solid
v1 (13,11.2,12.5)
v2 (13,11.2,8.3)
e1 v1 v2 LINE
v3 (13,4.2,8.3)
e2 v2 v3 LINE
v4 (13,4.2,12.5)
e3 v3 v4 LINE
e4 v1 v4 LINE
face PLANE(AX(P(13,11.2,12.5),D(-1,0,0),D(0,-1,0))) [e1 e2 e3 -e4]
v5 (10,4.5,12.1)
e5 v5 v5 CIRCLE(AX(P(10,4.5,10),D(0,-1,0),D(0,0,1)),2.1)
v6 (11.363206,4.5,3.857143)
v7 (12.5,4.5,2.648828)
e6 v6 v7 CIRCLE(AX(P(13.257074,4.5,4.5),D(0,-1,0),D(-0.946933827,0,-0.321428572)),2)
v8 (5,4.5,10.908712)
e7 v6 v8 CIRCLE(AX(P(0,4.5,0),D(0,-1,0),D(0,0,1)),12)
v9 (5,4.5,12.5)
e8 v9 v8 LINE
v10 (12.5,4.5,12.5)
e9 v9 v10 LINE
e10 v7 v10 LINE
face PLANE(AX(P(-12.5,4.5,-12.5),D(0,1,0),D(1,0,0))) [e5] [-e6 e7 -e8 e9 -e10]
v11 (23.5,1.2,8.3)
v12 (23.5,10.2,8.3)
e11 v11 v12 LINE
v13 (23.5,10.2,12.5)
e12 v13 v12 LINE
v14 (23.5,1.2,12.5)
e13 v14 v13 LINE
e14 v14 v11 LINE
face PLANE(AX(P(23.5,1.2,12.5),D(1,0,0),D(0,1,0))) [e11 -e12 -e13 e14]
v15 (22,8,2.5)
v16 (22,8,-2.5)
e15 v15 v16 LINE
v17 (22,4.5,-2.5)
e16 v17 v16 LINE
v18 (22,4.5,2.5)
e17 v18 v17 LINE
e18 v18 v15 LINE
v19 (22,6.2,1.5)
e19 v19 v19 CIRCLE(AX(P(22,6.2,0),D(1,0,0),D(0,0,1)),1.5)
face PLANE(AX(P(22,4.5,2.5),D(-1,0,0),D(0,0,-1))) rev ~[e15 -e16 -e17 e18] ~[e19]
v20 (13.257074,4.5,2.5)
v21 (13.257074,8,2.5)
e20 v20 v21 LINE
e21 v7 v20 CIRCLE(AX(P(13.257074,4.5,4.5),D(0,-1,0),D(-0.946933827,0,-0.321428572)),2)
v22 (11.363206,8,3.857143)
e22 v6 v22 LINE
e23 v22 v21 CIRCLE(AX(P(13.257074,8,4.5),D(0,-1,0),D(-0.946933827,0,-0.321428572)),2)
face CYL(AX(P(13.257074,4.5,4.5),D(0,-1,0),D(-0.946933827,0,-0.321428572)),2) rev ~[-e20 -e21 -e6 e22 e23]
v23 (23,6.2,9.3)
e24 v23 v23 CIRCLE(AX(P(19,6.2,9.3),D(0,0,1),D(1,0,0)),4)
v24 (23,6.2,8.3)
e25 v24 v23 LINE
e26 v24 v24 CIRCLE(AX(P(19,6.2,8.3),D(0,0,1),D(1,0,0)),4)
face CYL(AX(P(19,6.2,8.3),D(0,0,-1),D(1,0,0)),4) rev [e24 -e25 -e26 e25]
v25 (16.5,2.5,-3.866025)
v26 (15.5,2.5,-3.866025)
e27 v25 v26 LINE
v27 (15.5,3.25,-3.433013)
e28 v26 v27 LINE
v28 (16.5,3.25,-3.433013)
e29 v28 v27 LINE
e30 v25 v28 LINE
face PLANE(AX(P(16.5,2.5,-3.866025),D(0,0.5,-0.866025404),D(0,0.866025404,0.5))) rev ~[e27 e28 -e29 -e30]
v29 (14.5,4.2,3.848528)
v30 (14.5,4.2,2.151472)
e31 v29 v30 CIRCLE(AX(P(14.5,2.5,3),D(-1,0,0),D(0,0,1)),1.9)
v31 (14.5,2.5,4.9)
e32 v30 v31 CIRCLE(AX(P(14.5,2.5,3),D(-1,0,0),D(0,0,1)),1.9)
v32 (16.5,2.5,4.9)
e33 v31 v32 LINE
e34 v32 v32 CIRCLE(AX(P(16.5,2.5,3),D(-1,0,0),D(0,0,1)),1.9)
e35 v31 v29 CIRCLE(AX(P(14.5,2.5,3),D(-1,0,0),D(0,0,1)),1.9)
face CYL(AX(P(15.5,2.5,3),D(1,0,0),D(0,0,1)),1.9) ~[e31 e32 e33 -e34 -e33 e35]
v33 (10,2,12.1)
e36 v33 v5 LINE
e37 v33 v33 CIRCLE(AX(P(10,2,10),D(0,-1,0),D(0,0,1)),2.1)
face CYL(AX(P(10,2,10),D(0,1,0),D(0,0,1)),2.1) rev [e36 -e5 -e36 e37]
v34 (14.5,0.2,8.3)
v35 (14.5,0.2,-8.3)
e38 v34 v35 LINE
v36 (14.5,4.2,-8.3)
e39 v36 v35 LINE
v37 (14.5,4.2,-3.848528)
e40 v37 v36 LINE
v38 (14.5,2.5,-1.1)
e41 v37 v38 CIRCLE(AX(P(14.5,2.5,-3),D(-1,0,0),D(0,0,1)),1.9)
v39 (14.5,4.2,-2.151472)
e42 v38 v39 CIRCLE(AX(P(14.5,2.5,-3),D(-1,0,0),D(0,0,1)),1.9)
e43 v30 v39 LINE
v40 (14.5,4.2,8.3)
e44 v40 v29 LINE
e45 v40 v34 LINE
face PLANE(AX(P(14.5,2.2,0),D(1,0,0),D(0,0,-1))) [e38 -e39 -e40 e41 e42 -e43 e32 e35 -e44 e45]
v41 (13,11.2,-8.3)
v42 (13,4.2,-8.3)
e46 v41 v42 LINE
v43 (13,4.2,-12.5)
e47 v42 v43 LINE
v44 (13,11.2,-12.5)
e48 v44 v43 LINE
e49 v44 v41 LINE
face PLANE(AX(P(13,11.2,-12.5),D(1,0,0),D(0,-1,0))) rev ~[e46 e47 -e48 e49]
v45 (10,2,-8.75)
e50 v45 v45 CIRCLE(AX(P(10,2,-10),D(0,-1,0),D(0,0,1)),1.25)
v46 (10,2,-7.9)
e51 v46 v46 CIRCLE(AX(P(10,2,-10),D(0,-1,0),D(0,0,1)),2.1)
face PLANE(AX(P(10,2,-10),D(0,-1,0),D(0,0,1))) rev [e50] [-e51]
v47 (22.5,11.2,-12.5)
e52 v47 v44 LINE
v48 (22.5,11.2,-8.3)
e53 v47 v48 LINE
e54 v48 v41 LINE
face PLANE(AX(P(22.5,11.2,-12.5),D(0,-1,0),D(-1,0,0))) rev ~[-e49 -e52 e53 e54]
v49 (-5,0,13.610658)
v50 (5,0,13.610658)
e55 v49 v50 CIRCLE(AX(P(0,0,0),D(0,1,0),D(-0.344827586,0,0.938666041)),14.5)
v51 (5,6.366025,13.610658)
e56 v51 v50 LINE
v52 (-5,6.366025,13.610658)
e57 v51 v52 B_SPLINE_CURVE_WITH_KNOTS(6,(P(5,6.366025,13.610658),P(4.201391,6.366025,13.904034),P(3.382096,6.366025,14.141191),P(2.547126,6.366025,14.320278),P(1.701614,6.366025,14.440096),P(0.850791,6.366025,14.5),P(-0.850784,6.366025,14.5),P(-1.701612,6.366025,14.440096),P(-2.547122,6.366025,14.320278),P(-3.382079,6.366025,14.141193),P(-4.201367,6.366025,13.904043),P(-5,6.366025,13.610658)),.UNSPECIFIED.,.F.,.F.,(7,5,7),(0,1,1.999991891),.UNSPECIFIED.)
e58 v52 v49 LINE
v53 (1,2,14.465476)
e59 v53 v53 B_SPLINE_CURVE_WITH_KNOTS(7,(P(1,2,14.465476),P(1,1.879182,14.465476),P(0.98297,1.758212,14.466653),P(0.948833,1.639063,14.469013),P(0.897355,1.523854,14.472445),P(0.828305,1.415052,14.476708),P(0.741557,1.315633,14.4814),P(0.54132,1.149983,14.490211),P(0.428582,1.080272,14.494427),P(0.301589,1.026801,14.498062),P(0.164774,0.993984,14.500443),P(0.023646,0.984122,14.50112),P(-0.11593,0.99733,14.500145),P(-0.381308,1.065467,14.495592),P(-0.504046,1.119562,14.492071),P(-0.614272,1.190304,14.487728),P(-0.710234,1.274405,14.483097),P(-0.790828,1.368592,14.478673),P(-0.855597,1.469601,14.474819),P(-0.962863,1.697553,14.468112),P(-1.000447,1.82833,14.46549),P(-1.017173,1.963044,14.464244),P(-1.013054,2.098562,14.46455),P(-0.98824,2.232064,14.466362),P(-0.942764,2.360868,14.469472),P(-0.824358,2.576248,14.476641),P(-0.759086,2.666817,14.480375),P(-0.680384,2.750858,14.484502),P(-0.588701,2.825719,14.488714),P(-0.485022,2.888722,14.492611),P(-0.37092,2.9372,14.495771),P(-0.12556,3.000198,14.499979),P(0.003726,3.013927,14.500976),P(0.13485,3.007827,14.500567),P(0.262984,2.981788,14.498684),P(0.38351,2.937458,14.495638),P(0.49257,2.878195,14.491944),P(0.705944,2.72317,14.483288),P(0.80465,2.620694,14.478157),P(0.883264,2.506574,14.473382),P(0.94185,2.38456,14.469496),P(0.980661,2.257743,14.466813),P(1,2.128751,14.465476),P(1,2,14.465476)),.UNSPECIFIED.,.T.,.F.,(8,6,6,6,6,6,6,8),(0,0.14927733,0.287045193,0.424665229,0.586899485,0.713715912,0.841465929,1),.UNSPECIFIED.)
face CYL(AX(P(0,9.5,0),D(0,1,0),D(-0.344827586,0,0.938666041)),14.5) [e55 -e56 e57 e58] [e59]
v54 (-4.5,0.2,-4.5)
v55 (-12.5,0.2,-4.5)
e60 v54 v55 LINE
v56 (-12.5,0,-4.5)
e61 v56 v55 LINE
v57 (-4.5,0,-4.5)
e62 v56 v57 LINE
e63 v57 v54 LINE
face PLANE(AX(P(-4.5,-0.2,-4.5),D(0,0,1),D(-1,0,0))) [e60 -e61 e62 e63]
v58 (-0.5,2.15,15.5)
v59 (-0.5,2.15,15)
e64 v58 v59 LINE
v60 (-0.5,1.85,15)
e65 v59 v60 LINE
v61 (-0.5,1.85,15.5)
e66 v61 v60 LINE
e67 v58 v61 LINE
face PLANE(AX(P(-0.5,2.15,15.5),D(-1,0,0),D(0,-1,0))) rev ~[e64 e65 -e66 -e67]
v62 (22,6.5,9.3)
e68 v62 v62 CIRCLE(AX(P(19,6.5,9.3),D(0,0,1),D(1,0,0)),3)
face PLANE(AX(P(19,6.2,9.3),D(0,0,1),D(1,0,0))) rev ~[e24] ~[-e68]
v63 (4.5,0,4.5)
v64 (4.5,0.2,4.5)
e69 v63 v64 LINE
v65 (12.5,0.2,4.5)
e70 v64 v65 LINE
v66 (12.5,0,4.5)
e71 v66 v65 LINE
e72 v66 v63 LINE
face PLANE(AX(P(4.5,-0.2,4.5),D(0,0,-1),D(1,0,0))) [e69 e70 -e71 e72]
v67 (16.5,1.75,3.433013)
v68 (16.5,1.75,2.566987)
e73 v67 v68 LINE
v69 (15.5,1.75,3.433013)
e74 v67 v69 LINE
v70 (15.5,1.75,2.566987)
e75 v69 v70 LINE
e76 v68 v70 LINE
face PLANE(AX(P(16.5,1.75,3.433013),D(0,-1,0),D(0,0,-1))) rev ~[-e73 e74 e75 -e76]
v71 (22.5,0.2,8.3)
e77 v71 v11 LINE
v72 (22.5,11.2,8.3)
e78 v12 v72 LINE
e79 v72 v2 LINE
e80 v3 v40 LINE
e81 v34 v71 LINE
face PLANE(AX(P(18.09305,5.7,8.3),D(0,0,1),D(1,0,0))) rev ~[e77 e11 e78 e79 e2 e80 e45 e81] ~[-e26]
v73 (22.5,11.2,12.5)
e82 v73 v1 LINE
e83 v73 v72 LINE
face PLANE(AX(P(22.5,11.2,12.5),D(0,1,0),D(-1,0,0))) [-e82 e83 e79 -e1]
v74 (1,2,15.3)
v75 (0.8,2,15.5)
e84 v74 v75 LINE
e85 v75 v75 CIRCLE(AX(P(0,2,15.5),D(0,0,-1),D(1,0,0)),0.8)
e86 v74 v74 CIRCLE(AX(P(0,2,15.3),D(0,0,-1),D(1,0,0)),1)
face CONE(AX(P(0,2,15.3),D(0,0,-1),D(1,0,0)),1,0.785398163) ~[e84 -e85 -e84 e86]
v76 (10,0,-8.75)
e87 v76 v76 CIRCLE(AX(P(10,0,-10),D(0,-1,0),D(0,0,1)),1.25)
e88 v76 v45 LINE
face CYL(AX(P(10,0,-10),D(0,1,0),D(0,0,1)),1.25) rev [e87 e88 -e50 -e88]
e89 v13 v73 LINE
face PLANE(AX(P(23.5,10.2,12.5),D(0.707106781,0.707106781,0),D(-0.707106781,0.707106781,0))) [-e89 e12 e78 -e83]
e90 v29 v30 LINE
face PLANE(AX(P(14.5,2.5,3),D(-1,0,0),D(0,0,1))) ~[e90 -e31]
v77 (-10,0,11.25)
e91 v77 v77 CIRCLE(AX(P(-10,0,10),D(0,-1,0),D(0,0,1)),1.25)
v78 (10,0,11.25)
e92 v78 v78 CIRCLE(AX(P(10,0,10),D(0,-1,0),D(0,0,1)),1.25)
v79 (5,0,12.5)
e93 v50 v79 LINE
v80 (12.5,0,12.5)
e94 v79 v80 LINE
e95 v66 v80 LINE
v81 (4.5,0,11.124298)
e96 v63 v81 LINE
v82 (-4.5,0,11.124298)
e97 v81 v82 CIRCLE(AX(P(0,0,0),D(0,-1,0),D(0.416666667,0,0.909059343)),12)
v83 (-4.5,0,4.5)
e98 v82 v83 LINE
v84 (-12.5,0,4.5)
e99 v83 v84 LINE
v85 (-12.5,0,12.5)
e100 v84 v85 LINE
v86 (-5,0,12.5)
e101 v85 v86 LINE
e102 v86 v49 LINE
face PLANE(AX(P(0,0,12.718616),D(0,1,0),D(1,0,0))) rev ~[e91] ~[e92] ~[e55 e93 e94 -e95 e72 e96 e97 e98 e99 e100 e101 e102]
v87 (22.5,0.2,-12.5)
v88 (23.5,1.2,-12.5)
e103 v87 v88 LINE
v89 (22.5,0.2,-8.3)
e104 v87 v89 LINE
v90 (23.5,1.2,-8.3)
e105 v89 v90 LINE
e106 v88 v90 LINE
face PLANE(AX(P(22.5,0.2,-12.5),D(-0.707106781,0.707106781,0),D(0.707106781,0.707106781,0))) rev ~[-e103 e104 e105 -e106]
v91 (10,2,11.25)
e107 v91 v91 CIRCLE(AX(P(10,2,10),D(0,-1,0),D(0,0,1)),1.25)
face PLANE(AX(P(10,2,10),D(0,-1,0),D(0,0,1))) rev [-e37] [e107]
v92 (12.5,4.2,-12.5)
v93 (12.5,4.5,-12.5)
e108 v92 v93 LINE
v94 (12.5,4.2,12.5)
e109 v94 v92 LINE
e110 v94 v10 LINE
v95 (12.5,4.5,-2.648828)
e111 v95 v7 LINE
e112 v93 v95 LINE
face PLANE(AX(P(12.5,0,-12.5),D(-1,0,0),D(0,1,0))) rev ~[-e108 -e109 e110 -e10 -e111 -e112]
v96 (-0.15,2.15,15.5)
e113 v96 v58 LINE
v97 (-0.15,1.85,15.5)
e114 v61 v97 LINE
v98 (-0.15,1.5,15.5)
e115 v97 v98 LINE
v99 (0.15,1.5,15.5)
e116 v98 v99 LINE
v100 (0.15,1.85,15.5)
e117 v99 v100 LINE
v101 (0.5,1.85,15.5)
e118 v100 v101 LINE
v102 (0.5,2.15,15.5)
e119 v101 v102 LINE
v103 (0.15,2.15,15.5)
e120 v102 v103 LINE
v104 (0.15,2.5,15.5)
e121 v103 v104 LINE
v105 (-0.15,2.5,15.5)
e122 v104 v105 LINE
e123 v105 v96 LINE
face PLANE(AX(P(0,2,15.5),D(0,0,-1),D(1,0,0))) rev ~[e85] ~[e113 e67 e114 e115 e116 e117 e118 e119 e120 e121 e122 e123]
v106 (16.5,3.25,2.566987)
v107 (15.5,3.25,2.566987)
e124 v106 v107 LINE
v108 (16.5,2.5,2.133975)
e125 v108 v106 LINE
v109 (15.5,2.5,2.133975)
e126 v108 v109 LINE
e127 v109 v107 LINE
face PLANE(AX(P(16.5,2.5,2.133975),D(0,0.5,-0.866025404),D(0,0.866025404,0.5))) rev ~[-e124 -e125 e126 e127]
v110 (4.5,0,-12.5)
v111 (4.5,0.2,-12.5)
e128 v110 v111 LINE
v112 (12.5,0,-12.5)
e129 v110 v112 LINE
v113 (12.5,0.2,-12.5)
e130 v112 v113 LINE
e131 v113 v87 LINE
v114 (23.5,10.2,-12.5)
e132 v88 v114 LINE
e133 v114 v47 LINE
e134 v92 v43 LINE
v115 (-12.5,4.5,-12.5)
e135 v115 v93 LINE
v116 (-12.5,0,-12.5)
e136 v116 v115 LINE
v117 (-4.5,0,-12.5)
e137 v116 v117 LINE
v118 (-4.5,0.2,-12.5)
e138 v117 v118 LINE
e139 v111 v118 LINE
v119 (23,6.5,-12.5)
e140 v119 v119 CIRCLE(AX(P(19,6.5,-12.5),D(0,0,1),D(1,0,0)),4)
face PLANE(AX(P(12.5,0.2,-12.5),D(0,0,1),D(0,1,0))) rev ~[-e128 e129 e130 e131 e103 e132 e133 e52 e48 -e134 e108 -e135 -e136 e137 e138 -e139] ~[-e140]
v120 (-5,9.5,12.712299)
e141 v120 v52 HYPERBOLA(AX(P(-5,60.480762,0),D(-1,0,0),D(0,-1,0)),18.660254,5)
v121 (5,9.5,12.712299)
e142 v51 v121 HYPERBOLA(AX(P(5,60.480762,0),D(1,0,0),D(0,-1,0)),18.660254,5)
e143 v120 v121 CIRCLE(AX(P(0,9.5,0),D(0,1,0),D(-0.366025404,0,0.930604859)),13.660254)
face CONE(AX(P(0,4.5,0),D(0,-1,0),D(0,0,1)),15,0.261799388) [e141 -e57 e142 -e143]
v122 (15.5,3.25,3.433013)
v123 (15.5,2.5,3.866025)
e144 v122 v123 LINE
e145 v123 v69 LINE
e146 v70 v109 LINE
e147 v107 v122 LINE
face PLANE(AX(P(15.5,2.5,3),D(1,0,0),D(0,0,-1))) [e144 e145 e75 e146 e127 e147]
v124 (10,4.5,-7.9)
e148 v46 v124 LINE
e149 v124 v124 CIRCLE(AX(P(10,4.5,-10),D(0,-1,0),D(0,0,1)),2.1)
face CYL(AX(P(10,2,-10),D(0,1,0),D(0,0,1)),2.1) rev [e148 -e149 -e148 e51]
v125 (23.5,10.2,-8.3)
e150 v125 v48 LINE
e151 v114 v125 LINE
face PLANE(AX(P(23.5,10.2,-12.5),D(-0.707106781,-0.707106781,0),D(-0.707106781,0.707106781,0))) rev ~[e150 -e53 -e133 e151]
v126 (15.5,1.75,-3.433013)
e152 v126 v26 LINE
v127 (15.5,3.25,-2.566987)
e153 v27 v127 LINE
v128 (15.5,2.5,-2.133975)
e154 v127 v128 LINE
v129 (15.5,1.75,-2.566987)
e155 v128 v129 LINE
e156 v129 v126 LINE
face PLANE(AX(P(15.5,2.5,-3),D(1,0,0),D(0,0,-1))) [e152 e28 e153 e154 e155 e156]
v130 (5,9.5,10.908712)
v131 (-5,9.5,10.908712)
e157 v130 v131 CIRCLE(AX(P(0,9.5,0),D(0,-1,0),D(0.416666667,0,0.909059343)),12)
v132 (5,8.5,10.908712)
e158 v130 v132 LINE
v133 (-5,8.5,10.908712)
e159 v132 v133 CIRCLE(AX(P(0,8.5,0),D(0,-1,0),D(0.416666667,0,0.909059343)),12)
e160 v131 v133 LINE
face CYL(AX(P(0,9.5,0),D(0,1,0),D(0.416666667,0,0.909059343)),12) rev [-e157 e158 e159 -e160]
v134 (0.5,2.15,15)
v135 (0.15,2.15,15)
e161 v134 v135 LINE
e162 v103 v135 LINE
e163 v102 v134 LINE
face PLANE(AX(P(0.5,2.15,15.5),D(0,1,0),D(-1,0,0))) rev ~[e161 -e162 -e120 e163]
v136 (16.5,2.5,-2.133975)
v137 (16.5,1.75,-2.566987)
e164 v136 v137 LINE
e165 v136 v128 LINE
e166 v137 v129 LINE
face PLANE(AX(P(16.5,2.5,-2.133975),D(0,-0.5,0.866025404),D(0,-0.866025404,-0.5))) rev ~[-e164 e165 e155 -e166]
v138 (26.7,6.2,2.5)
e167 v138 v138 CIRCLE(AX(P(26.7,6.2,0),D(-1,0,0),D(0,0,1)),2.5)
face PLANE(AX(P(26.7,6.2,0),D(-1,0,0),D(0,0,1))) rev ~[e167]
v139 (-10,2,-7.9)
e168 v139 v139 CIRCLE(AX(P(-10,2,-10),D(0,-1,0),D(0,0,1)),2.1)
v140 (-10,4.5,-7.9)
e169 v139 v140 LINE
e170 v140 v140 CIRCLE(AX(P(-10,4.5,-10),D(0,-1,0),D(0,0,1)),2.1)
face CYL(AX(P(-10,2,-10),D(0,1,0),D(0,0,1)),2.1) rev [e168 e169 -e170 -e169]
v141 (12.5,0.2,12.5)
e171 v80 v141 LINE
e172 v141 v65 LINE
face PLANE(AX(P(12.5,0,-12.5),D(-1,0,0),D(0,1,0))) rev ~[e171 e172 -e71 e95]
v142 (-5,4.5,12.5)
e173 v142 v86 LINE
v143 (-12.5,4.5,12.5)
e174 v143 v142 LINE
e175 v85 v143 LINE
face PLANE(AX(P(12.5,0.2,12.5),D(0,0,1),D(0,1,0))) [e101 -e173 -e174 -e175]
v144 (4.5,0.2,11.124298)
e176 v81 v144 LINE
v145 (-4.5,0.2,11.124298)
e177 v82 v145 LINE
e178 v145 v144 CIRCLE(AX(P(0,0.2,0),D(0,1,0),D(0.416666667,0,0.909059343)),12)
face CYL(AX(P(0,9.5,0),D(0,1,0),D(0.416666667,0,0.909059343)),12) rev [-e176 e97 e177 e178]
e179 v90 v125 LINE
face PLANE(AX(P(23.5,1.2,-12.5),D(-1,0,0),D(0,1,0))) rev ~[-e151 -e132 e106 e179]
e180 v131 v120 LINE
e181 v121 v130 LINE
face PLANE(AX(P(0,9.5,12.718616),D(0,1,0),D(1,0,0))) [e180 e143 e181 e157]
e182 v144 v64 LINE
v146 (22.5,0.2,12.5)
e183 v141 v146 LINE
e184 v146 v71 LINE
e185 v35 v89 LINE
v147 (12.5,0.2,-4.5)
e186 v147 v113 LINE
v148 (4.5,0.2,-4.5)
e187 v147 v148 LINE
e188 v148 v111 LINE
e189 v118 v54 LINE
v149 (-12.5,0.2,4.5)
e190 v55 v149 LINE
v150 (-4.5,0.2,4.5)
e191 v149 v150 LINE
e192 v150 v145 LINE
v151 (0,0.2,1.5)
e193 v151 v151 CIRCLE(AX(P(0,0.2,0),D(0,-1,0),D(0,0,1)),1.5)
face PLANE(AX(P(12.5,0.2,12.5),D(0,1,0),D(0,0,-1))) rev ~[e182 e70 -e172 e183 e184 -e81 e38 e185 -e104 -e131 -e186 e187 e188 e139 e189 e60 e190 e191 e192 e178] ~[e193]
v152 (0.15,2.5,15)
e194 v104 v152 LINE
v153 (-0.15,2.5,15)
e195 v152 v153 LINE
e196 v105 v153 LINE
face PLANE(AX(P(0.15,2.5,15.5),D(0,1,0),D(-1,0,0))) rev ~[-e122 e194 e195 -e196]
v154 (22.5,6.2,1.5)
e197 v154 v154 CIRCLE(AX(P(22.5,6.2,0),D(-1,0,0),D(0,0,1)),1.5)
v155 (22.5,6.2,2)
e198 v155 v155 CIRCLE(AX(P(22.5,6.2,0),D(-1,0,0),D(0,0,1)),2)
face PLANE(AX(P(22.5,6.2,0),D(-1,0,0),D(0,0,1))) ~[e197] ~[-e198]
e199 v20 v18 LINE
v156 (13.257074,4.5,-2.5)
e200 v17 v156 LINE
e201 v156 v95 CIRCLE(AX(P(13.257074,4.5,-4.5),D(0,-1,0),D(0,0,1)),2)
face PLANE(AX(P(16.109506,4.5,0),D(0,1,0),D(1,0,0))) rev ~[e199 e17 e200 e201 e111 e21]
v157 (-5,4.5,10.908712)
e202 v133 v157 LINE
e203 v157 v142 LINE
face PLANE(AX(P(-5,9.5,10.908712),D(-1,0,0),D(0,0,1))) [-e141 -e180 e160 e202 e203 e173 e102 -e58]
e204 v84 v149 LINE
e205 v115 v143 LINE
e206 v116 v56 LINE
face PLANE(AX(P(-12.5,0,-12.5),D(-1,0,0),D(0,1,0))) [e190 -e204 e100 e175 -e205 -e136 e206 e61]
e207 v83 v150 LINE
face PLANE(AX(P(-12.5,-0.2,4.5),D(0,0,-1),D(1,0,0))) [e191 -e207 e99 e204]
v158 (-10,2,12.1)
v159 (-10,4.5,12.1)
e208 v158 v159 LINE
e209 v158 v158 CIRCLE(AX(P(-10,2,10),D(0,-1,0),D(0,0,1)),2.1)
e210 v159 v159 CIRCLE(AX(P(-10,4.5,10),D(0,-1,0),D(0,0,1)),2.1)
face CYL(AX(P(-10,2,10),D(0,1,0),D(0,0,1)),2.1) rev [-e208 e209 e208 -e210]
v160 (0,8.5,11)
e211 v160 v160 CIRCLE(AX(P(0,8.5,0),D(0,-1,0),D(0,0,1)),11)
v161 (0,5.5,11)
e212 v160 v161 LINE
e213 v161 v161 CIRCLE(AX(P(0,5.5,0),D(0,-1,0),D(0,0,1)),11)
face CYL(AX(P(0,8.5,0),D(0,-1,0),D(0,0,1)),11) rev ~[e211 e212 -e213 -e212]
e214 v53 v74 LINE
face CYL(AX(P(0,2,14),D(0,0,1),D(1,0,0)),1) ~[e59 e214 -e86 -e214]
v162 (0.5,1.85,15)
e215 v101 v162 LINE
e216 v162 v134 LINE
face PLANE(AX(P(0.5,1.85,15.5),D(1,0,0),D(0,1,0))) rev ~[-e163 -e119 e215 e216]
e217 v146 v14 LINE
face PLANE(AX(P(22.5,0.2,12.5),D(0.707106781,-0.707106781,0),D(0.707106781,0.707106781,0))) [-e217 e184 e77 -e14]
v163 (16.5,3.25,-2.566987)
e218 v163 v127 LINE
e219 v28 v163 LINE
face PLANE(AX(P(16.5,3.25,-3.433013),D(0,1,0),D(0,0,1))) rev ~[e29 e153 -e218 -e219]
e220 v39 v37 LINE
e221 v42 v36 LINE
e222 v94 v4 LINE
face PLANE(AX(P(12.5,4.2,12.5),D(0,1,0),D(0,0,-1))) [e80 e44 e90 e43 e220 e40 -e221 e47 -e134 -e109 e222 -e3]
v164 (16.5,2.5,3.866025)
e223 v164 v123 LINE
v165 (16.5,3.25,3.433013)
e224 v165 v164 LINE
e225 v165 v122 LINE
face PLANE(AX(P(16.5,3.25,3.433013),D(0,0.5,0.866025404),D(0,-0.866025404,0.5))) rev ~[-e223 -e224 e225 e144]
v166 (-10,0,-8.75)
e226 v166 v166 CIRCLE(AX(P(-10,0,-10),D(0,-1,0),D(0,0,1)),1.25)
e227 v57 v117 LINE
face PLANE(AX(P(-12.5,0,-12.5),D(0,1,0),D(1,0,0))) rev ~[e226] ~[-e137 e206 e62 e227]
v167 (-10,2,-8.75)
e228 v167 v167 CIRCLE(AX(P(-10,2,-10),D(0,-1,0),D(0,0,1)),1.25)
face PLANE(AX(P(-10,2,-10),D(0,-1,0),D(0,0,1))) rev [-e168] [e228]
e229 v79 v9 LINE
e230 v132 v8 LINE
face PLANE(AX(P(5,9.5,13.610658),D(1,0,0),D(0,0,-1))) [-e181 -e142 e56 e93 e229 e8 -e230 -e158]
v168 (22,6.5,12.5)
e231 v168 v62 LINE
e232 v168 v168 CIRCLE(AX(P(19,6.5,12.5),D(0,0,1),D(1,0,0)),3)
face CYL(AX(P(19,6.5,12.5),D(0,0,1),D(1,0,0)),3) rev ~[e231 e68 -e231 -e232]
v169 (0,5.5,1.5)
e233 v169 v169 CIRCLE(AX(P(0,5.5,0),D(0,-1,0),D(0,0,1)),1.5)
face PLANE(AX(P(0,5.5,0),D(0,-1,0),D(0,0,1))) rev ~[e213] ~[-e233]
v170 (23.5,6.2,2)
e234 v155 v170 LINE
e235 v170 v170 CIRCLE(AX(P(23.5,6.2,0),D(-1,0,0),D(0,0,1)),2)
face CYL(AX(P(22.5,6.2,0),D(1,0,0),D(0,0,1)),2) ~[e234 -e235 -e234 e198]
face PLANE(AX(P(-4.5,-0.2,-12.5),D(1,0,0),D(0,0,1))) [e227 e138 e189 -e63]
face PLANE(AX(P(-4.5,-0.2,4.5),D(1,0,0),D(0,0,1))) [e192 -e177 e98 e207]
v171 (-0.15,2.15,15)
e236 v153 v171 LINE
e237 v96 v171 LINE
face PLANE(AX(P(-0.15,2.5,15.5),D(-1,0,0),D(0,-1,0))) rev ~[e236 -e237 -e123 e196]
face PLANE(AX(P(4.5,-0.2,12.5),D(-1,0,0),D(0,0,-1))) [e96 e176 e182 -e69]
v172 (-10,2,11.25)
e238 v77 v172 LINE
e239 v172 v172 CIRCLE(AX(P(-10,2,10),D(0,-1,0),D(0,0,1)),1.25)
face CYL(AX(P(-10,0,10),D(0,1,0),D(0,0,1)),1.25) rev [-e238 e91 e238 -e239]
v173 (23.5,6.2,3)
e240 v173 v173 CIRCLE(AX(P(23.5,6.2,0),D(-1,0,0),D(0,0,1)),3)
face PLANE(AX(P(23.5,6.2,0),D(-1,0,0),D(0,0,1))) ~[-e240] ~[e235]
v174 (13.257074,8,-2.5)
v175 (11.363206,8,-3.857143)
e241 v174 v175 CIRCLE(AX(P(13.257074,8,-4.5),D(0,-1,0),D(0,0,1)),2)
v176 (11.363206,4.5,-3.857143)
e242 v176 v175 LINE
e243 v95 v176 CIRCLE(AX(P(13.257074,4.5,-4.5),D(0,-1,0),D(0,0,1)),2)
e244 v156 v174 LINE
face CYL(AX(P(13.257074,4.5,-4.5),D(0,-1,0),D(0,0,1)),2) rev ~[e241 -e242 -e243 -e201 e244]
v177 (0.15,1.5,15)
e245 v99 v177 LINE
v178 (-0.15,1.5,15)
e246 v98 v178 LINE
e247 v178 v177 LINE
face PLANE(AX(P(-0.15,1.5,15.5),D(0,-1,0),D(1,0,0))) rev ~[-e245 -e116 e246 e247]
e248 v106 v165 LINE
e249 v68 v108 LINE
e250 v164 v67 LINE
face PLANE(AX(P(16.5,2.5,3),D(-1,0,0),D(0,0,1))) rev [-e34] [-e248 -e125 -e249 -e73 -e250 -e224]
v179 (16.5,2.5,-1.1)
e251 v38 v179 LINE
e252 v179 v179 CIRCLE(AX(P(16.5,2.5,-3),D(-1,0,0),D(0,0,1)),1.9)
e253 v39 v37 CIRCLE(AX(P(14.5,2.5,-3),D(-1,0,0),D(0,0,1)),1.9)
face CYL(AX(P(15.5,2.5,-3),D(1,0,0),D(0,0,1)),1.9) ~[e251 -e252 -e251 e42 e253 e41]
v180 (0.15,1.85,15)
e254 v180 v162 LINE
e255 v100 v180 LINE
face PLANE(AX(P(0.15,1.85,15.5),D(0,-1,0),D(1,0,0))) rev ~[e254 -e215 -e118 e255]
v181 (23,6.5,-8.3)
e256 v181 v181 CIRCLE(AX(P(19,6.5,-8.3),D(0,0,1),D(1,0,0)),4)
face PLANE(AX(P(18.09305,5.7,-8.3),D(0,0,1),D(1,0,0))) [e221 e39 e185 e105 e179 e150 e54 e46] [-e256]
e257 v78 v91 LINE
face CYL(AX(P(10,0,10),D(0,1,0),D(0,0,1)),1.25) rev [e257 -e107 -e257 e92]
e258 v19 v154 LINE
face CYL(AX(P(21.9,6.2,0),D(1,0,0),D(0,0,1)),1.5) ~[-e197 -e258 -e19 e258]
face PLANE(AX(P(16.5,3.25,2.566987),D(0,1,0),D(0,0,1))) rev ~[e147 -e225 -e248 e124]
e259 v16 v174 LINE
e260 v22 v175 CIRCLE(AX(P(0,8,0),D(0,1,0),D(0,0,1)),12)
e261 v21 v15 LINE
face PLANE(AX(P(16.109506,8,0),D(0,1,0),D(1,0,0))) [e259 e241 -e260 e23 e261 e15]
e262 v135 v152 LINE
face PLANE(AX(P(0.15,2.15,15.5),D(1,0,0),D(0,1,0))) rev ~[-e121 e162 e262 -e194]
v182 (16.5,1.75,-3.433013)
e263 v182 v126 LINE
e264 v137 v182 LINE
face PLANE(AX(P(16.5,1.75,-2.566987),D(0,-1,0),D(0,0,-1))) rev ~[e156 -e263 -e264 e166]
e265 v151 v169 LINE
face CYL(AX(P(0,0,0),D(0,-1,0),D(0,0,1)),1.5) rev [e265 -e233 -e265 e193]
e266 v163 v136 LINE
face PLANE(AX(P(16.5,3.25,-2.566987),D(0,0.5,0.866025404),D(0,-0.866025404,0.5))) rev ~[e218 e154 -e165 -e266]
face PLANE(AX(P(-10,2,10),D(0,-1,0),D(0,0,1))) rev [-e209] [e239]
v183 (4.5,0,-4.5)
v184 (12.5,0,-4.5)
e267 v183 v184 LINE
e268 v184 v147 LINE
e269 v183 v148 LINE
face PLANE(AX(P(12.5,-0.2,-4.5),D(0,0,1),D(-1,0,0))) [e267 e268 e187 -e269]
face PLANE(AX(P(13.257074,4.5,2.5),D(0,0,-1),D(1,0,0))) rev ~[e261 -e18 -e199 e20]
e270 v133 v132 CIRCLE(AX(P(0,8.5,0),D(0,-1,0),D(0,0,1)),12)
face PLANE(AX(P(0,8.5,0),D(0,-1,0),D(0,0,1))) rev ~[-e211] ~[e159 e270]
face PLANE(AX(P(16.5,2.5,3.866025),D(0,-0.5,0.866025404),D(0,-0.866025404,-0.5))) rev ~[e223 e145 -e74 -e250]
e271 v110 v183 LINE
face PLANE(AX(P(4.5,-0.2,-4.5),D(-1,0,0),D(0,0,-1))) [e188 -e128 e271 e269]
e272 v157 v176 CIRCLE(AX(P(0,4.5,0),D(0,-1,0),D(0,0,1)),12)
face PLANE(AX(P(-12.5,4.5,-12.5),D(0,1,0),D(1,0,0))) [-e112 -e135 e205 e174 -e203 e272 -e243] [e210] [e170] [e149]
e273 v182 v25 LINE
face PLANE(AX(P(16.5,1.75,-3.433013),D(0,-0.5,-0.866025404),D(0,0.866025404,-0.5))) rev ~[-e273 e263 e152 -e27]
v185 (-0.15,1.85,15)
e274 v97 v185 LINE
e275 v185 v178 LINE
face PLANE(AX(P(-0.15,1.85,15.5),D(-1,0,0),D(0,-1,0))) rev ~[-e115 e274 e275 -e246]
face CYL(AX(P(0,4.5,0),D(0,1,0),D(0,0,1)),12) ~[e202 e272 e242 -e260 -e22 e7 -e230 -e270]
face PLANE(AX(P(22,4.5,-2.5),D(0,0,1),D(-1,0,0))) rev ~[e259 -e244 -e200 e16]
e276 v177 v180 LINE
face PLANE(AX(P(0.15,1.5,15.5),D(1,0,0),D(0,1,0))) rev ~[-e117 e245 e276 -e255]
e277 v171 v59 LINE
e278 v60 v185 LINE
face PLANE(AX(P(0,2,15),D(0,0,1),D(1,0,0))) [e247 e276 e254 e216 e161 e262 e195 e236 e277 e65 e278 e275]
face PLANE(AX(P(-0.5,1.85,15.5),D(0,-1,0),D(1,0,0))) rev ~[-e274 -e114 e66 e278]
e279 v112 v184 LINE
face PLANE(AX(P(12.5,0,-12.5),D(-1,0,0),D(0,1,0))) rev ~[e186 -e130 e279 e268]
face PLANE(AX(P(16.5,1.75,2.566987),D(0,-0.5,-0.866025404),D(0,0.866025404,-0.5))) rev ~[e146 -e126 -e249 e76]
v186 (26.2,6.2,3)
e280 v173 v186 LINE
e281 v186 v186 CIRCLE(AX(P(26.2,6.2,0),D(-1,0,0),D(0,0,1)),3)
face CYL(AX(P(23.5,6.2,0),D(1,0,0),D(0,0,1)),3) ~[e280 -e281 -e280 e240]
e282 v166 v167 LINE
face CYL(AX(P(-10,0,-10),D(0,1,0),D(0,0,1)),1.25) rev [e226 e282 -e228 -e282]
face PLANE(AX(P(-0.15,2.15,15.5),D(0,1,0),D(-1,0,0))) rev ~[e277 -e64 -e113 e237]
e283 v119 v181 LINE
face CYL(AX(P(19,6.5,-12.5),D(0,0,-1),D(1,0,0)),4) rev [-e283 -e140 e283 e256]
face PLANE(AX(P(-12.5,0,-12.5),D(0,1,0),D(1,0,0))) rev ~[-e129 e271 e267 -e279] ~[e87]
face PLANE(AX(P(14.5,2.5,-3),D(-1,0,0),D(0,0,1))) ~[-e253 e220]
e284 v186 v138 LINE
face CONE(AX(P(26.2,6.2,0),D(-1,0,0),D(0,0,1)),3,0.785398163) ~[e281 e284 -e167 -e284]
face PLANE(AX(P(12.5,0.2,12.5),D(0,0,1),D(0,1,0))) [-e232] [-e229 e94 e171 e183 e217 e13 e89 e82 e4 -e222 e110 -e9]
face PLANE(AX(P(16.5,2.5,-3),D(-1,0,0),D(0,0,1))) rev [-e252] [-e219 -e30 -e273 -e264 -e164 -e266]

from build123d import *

# Parameters (mm, degrees)
EXTRUDE_1_DEPTH               = 12.5
EXTRUDE_1_DEPTH_BACK          = 12.5
SKETCH_1_W                    = 25
SKETCH_1_H                    = 4.5
CUT_EXTRUDE_1_DEPTH           = 0.2
CUT_EXTRUDE_1_DEPTH_BACK      = 0.2
PATTERN_LINEAR_1_COUNT        = 2
PATTERN_LINEAR_1_PITCH        = 20
PATTERN_LINEAR_1_COUNT_DIR2   = 2
PATTERN_LINEAR_1_PITCH_DIR2   = 20
EXTRUDE_2_DEPTH               = 3.5
SKETCH_8_W                    = 25
SKETCH_8_H                    = 4
EXTRUDE_3_DEPTH               = 2
EXTRUDE_4_DEPTH               = 4.2
SKETCH_10_R                   = 3
CUT_EXTRUDE_2_DEPTH           = 4.2
EXTRUDE_5_DEPTH               = 4.2
SKETCH_12_R                   = 4
CUT_EXTRUDE_3_DEPTH           = 4.2
SKETCH_13_W                   = 2
SKETCH_13_H                   = 1.9
CUT_EXTRUDE_4_DEPTH           = 1
SKETCH_15_R                   = 4
CUT_EXTRUDE_5_DEPTH           = 1
SKETCH_16_W                   = 2
SKETCH_16_H                   = 1.9
CUT_EXTRUDE_6_DEPTH           = 1
EXTRUDE_START                 = 9.5
EXTRUDE_6_DEPTH               = 9.5
CUT_REVOLVE_2_ANGLE           = 50
CUT_REVOLVE_2_OTHER_WAY_ANGLE = 50
CUT_EXTRUDE_7_DEPTH           = 0.5
SKETCH_22_R                   = 1.5
CUT_EXTRUDE_8_DEPTH           = 8.5


with BuildPart() as part:
    # 草图1 → 凸台-拉伸1 (new, two sides: drawn at the far end of the back side and taken through both)
    with BuildSketch(Plane.XY.offset(-EXTRUDE_1_DEPTH_BACK)):
        with Locations((0, 2.25)):
            Rectangle(SKETCH_1_W, SKETCH_1_H)
    extrude(amount=EXTRUDE_1_DEPTH + EXTRUDE_1_DEPTH_BACK)

    # 草图2 → 旋转1 (revolve)
    with BuildSketch(Plane(origin=(0, 0, 0), x_dir=(0, 0, -1), z_dir=(1, 0, 0))):
        Polygon((0, 4.5), (-12, 4.5), (-12, 8.5), (-11, 8.5), (-11, 5.5), (0, 5.5), align=None)
    revolve(axis=Axis((0, 5.5, 0), (0, -1, 0)))

    # 草图3 → 切除-拉伸1 (cut, two sides: drawn at the far end of the back side and taken through both)
    with BuildSketch(Plane(origin=(0, 0, 0), x_dir=(1, 0, 0), z_dir=(0, 1, 0)).offset(-CUT_EXTRUDE_1_DEPTH_BACK)):
        Polygon((-12.5, 4.5), (-12.5, -4.5), (-4.5, -4.5), (-4.5, -12.5), (4.5, -12.5), (4.5, -4.5), (12.5, -4.5), (12.5, 4.5), (4.5, 4.5), (4.5, 12.5), (-4.5, 12.5), (-4.5, 4.5), align=None)
    extrude(amount=CUT_EXTRUDE_1_DEPTH + CUT_EXTRUDE_1_DEPTH_BACK, mode=Mode.SUBTRACT)

    # 草图4 → 切除-旋转1 (revolve, cut)
    with BuildSketch(Plane(origin=(-10, 0, 0), x_dir=(0, 0, -1), z_dir=(1, 0, 0))):
        Polygon((10, 0), (8.75, 0), (8.75, 2), (7.9, 2), (7.9, 4.5), (10, 4.5), align=None)
    cut_revolve_1 = revolve(axis=Axis((-10, 4.5, -10), (0, -1, 0)), mode=Mode.SUBTRACT)

    # 阵列(线性)1: Cut-Revolve 1 2 × 2
    with Locations(*[(i * PATTERN_LINEAR_1_PITCH, 0, j * PATTERN_LINEAR_1_PITCH_DIR2) for i in range(PATTERN_LINEAR_1_COUNT) for j in range(PATTERN_LINEAR_1_COUNT_DIR2) if (i, j) != (0, 0)]):
        add(cut_revolve_1, mode=Mode.SUBTRACT)

    # 草图6 → 凸台-拉伸2 (add)
    with BuildSketch(Plane(origin=(0, 4.5, 0), x_dir=(1, 0, 0), z_dir=(0, 1, 0))):
        with BuildLine():
            Line((11.363205929, 3.857142857), (11.363205929, -3.857142857))
            ThreePointArc((11.363205929, -3.857142857), (12.092108839, -2.874313332), (13.257073584, -2.5))
            Line((13.257073584, -2.5), (22, -2.5))
            Line((22, -2.5), (22, 2.5))
            Line((22, 2.5), (13.257073584, 2.5))
            ThreePointArc((13.257073584, 2.5), (12.092108839, 2.874313332), (11.363205929, 3.857142857))
        make_face()
    extrude(amount=EXTRUDE_2_DEPTH)

    # 草图7 → 旋转2 (revolve)
    with BuildSketch(Plane.XY):
        Polygon((21.9, 6.2), (21.9, 7.7), (22.5, 7.7), (22.5, 8.2), (23.5, 8.2), (23.5, 9.2), (26.2, 9.2), (26.7, 8.7), (26.7, 6.2), align=None)
    revolve(axis=Axis((26.7, 6.2, 0), (-1, 0, 0)))

    # 草图8 → 凸台-拉伸3 (add)
    with BuildSketch(Plane(origin=(12.5, 0, 0), x_dir=(0, 0, -1), z_dir=(1, 0, 0))):
        with Locations((0, 2.2)):
            Rectangle(SKETCH_8_W, SKETCH_8_H)
    extrude(amount=EXTRUDE_3_DEPTH)

    # 草图9 → 凸台-拉伸4 (add)
    with BuildSketch(Plane.XY.offset(12.5)):
        Polygon((13, 0.2), (22.5, 0.2), (23.5, 1.2), (23.5, 10.2), (22.5, 11.2), (13, 11.2), align=None)
    extrude(amount=-EXTRUDE_4_DEPTH)

    # 草图10 → 切除-拉伸2 (cut)
    with BuildSketch(Plane.XY.offset(12.5)):
        with Locations((19, 6.5)):
            Circle(SKETCH_10_R)
    extrude(amount=-CUT_EXTRUDE_2_DEPTH, mode=Mode.SUBTRACT)

    # 草图11 → 凸台-拉伸5 (add)
    with BuildSketch(Plane.XY.offset(-12.5)):
        Polygon((13, 0.2), (22.5, 0.2), (23.5, 1.2), (23.5, 10.2), (22.5, 11.2), (13, 11.2), align=None)
    extrude(amount=EXTRUDE_5_DEPTH)

    # 草图12 → 切除-拉伸3 (cut)
    with BuildSketch(Plane.XY.offset(-12.5)):
        with Locations((19, 6.5)):
            Circle(SKETCH_12_R)
    extrude(amount=CUT_EXTRUDE_3_DEPTH, mode=Mode.SUBTRACT)

    # 草图13 → 旋转3 (revolve)
    with BuildSketch(Plane.XY.offset(-3)):
        with Locations((15.5, 3.45)):
            Rectangle(SKETCH_13_W, SKETCH_13_H)
    revolve(axis=Axis((16.5, 2.5, -3), (-1, 0, 0)))

    # 草图14 → 切除-拉伸4 (cut)
    with BuildSketch(Plane(origin=(16.5, 0, 0), x_dir=(0, 0, -1), z_dir=(1, 0, 0))):
        Polygon((2.566987298, 1.75), (3.433012702, 1.75), (3.866025404, 2.5), (3.433012702, 3.25), (2.566987298, 3.25), (2.133974596, 2.5), align=None)
    extrude(amount=-CUT_EXTRUDE_4_DEPTH, mode=Mode.SUBTRACT)

    # 草图15 → 切除-拉伸5 (cut)
    with BuildSketch(Plane.XY.offset(8.3)):
        with Locations((19, 6.2)):
            Circle(SKETCH_15_R)
    extrude(amount=CUT_EXTRUDE_5_DEPTH, mode=Mode.SUBTRACT)

    # 草图16 → 旋转4 (revolve)
    with BuildSketch(Plane.XY.offset(3)):
        with Locations((15.5, 3.45)):
            Rectangle(SKETCH_16_W, SKETCH_16_H)
    revolve(axis=Axis((16.5, 2.5, 3), (-1, 0, 0)))

    # 草图17 → 切除-拉伸6 (cut)
    with BuildSketch(Plane(origin=(16.5, 0, 0), x_dir=(0, 0, -1), z_dir=(1, 0, 0))):
        Polygon((-3.433012702, 1.75), (-2.566987298, 1.75), (-2.133974596, 2.5), (-2.566987298, 3.25), (-3.433012702, 3.25), (-3.866025404, 2.5), align=None)
    extrude(amount=-CUT_EXTRUDE_6_DEPTH, mode=Mode.SUBTRACT)

    # 草图18 → 凸台-拉伸6 (add)
    with BuildSketch(Plane(origin=(0, 0, 0), x_dir=(1, 0, 0), z_dir=(0, 1, 0)).offset(EXTRUDE_START)):
        with BuildLine():
            Line((5, -13.610657589), (5, -10.908712115))
            ThreePointArc((5, -10.908712115), (0, -12), (-5, -10.908712115))
            Line((-5, -10.908712115), (-5, -13.610657589))
            ThreePointArc((-5, -13.610657589), (0, -14.5), (5, -13.610657589))
        make_face()
    extrude(amount=-EXTRUDE_6_DEPTH)

    # 草图19 → 切除-旋转2 (revolve, cut)
    with BuildSketch(Plane(origin=(0, 0, 0), x_dir=(0, 0, -1), z_dir=(1, 0, 0))):
        Polygon((-16, 4.5), (-15, 4.5), (-13.606664199, 9.7), (-16, 9.7), align=None)
    revolve(axis=Axis((0, 9.7, 0), (0, 1, 0)), revolution_arc=CUT_REVOLVE_2_ANGLE, mode=Mode.SUBTRACT)

    # 草图19 → 切除-旋转2 other way (revolve, cut)
    with BuildSketch(Plane(origin=(0, 0, 0), x_dir=(0, 0, -1), z_dir=(1, 0, 0))):
        Polygon((-16, 4.5), (-15, 4.5), (-13.606664199, 9.7), (-16, 9.7), align=None)
    revolve(axis=Axis((0, 9.7, 0), (0, -1, 0)), revolution_arc=CUT_REVOLVE_2_OTHER_WAY_ANGLE, mode=Mode.SUBTRACT)

    # 草图20 → 旋转5 (revolve)
    with BuildSketch(Plane(origin=(0, 0, 0), x_dir=(0, 0, -1), z_dir=(1, 0, 0))):
        Polygon((-14, 2), (-14, 1), (-15.3, 1), (-15.5, 1.2), (-15.5, 2), align=None)
    revolve(axis=Axis((0, 2, 15.5), (0, 0, -1)))

    # 草图21 → 切除-拉伸7 (cut)
    with BuildSketch(Plane.XY.offset(15.5)):
        Polygon((0.15, 2.5), (-0.15, 2.5), (-0.15, 2.15), (-0.5, 2.15), (-0.5, 1.85), (-0.15, 1.85), (-0.15, 1.5), (0.15, 1.5), (0.15, 1.85), (0.5, 1.85), (0.5, 2.15), (0.15, 2.15), align=None)
    extrude(amount=-CUT_EXTRUDE_7_DEPTH, mode=Mode.SUBTRACT)

    # 草图22 → 切除-拉伸8 (cut)
    with BuildSketch(Plane(origin=(0, 0, 0), x_dir=(1, 0, 0), z_dir=(0, 1, 0))):
        Circle(SKETCH_22_R)
    extrude(amount=CUT_EXTRUDE_8_DEPTH, mode=Mode.SUBTRACT)


solid = part.part
